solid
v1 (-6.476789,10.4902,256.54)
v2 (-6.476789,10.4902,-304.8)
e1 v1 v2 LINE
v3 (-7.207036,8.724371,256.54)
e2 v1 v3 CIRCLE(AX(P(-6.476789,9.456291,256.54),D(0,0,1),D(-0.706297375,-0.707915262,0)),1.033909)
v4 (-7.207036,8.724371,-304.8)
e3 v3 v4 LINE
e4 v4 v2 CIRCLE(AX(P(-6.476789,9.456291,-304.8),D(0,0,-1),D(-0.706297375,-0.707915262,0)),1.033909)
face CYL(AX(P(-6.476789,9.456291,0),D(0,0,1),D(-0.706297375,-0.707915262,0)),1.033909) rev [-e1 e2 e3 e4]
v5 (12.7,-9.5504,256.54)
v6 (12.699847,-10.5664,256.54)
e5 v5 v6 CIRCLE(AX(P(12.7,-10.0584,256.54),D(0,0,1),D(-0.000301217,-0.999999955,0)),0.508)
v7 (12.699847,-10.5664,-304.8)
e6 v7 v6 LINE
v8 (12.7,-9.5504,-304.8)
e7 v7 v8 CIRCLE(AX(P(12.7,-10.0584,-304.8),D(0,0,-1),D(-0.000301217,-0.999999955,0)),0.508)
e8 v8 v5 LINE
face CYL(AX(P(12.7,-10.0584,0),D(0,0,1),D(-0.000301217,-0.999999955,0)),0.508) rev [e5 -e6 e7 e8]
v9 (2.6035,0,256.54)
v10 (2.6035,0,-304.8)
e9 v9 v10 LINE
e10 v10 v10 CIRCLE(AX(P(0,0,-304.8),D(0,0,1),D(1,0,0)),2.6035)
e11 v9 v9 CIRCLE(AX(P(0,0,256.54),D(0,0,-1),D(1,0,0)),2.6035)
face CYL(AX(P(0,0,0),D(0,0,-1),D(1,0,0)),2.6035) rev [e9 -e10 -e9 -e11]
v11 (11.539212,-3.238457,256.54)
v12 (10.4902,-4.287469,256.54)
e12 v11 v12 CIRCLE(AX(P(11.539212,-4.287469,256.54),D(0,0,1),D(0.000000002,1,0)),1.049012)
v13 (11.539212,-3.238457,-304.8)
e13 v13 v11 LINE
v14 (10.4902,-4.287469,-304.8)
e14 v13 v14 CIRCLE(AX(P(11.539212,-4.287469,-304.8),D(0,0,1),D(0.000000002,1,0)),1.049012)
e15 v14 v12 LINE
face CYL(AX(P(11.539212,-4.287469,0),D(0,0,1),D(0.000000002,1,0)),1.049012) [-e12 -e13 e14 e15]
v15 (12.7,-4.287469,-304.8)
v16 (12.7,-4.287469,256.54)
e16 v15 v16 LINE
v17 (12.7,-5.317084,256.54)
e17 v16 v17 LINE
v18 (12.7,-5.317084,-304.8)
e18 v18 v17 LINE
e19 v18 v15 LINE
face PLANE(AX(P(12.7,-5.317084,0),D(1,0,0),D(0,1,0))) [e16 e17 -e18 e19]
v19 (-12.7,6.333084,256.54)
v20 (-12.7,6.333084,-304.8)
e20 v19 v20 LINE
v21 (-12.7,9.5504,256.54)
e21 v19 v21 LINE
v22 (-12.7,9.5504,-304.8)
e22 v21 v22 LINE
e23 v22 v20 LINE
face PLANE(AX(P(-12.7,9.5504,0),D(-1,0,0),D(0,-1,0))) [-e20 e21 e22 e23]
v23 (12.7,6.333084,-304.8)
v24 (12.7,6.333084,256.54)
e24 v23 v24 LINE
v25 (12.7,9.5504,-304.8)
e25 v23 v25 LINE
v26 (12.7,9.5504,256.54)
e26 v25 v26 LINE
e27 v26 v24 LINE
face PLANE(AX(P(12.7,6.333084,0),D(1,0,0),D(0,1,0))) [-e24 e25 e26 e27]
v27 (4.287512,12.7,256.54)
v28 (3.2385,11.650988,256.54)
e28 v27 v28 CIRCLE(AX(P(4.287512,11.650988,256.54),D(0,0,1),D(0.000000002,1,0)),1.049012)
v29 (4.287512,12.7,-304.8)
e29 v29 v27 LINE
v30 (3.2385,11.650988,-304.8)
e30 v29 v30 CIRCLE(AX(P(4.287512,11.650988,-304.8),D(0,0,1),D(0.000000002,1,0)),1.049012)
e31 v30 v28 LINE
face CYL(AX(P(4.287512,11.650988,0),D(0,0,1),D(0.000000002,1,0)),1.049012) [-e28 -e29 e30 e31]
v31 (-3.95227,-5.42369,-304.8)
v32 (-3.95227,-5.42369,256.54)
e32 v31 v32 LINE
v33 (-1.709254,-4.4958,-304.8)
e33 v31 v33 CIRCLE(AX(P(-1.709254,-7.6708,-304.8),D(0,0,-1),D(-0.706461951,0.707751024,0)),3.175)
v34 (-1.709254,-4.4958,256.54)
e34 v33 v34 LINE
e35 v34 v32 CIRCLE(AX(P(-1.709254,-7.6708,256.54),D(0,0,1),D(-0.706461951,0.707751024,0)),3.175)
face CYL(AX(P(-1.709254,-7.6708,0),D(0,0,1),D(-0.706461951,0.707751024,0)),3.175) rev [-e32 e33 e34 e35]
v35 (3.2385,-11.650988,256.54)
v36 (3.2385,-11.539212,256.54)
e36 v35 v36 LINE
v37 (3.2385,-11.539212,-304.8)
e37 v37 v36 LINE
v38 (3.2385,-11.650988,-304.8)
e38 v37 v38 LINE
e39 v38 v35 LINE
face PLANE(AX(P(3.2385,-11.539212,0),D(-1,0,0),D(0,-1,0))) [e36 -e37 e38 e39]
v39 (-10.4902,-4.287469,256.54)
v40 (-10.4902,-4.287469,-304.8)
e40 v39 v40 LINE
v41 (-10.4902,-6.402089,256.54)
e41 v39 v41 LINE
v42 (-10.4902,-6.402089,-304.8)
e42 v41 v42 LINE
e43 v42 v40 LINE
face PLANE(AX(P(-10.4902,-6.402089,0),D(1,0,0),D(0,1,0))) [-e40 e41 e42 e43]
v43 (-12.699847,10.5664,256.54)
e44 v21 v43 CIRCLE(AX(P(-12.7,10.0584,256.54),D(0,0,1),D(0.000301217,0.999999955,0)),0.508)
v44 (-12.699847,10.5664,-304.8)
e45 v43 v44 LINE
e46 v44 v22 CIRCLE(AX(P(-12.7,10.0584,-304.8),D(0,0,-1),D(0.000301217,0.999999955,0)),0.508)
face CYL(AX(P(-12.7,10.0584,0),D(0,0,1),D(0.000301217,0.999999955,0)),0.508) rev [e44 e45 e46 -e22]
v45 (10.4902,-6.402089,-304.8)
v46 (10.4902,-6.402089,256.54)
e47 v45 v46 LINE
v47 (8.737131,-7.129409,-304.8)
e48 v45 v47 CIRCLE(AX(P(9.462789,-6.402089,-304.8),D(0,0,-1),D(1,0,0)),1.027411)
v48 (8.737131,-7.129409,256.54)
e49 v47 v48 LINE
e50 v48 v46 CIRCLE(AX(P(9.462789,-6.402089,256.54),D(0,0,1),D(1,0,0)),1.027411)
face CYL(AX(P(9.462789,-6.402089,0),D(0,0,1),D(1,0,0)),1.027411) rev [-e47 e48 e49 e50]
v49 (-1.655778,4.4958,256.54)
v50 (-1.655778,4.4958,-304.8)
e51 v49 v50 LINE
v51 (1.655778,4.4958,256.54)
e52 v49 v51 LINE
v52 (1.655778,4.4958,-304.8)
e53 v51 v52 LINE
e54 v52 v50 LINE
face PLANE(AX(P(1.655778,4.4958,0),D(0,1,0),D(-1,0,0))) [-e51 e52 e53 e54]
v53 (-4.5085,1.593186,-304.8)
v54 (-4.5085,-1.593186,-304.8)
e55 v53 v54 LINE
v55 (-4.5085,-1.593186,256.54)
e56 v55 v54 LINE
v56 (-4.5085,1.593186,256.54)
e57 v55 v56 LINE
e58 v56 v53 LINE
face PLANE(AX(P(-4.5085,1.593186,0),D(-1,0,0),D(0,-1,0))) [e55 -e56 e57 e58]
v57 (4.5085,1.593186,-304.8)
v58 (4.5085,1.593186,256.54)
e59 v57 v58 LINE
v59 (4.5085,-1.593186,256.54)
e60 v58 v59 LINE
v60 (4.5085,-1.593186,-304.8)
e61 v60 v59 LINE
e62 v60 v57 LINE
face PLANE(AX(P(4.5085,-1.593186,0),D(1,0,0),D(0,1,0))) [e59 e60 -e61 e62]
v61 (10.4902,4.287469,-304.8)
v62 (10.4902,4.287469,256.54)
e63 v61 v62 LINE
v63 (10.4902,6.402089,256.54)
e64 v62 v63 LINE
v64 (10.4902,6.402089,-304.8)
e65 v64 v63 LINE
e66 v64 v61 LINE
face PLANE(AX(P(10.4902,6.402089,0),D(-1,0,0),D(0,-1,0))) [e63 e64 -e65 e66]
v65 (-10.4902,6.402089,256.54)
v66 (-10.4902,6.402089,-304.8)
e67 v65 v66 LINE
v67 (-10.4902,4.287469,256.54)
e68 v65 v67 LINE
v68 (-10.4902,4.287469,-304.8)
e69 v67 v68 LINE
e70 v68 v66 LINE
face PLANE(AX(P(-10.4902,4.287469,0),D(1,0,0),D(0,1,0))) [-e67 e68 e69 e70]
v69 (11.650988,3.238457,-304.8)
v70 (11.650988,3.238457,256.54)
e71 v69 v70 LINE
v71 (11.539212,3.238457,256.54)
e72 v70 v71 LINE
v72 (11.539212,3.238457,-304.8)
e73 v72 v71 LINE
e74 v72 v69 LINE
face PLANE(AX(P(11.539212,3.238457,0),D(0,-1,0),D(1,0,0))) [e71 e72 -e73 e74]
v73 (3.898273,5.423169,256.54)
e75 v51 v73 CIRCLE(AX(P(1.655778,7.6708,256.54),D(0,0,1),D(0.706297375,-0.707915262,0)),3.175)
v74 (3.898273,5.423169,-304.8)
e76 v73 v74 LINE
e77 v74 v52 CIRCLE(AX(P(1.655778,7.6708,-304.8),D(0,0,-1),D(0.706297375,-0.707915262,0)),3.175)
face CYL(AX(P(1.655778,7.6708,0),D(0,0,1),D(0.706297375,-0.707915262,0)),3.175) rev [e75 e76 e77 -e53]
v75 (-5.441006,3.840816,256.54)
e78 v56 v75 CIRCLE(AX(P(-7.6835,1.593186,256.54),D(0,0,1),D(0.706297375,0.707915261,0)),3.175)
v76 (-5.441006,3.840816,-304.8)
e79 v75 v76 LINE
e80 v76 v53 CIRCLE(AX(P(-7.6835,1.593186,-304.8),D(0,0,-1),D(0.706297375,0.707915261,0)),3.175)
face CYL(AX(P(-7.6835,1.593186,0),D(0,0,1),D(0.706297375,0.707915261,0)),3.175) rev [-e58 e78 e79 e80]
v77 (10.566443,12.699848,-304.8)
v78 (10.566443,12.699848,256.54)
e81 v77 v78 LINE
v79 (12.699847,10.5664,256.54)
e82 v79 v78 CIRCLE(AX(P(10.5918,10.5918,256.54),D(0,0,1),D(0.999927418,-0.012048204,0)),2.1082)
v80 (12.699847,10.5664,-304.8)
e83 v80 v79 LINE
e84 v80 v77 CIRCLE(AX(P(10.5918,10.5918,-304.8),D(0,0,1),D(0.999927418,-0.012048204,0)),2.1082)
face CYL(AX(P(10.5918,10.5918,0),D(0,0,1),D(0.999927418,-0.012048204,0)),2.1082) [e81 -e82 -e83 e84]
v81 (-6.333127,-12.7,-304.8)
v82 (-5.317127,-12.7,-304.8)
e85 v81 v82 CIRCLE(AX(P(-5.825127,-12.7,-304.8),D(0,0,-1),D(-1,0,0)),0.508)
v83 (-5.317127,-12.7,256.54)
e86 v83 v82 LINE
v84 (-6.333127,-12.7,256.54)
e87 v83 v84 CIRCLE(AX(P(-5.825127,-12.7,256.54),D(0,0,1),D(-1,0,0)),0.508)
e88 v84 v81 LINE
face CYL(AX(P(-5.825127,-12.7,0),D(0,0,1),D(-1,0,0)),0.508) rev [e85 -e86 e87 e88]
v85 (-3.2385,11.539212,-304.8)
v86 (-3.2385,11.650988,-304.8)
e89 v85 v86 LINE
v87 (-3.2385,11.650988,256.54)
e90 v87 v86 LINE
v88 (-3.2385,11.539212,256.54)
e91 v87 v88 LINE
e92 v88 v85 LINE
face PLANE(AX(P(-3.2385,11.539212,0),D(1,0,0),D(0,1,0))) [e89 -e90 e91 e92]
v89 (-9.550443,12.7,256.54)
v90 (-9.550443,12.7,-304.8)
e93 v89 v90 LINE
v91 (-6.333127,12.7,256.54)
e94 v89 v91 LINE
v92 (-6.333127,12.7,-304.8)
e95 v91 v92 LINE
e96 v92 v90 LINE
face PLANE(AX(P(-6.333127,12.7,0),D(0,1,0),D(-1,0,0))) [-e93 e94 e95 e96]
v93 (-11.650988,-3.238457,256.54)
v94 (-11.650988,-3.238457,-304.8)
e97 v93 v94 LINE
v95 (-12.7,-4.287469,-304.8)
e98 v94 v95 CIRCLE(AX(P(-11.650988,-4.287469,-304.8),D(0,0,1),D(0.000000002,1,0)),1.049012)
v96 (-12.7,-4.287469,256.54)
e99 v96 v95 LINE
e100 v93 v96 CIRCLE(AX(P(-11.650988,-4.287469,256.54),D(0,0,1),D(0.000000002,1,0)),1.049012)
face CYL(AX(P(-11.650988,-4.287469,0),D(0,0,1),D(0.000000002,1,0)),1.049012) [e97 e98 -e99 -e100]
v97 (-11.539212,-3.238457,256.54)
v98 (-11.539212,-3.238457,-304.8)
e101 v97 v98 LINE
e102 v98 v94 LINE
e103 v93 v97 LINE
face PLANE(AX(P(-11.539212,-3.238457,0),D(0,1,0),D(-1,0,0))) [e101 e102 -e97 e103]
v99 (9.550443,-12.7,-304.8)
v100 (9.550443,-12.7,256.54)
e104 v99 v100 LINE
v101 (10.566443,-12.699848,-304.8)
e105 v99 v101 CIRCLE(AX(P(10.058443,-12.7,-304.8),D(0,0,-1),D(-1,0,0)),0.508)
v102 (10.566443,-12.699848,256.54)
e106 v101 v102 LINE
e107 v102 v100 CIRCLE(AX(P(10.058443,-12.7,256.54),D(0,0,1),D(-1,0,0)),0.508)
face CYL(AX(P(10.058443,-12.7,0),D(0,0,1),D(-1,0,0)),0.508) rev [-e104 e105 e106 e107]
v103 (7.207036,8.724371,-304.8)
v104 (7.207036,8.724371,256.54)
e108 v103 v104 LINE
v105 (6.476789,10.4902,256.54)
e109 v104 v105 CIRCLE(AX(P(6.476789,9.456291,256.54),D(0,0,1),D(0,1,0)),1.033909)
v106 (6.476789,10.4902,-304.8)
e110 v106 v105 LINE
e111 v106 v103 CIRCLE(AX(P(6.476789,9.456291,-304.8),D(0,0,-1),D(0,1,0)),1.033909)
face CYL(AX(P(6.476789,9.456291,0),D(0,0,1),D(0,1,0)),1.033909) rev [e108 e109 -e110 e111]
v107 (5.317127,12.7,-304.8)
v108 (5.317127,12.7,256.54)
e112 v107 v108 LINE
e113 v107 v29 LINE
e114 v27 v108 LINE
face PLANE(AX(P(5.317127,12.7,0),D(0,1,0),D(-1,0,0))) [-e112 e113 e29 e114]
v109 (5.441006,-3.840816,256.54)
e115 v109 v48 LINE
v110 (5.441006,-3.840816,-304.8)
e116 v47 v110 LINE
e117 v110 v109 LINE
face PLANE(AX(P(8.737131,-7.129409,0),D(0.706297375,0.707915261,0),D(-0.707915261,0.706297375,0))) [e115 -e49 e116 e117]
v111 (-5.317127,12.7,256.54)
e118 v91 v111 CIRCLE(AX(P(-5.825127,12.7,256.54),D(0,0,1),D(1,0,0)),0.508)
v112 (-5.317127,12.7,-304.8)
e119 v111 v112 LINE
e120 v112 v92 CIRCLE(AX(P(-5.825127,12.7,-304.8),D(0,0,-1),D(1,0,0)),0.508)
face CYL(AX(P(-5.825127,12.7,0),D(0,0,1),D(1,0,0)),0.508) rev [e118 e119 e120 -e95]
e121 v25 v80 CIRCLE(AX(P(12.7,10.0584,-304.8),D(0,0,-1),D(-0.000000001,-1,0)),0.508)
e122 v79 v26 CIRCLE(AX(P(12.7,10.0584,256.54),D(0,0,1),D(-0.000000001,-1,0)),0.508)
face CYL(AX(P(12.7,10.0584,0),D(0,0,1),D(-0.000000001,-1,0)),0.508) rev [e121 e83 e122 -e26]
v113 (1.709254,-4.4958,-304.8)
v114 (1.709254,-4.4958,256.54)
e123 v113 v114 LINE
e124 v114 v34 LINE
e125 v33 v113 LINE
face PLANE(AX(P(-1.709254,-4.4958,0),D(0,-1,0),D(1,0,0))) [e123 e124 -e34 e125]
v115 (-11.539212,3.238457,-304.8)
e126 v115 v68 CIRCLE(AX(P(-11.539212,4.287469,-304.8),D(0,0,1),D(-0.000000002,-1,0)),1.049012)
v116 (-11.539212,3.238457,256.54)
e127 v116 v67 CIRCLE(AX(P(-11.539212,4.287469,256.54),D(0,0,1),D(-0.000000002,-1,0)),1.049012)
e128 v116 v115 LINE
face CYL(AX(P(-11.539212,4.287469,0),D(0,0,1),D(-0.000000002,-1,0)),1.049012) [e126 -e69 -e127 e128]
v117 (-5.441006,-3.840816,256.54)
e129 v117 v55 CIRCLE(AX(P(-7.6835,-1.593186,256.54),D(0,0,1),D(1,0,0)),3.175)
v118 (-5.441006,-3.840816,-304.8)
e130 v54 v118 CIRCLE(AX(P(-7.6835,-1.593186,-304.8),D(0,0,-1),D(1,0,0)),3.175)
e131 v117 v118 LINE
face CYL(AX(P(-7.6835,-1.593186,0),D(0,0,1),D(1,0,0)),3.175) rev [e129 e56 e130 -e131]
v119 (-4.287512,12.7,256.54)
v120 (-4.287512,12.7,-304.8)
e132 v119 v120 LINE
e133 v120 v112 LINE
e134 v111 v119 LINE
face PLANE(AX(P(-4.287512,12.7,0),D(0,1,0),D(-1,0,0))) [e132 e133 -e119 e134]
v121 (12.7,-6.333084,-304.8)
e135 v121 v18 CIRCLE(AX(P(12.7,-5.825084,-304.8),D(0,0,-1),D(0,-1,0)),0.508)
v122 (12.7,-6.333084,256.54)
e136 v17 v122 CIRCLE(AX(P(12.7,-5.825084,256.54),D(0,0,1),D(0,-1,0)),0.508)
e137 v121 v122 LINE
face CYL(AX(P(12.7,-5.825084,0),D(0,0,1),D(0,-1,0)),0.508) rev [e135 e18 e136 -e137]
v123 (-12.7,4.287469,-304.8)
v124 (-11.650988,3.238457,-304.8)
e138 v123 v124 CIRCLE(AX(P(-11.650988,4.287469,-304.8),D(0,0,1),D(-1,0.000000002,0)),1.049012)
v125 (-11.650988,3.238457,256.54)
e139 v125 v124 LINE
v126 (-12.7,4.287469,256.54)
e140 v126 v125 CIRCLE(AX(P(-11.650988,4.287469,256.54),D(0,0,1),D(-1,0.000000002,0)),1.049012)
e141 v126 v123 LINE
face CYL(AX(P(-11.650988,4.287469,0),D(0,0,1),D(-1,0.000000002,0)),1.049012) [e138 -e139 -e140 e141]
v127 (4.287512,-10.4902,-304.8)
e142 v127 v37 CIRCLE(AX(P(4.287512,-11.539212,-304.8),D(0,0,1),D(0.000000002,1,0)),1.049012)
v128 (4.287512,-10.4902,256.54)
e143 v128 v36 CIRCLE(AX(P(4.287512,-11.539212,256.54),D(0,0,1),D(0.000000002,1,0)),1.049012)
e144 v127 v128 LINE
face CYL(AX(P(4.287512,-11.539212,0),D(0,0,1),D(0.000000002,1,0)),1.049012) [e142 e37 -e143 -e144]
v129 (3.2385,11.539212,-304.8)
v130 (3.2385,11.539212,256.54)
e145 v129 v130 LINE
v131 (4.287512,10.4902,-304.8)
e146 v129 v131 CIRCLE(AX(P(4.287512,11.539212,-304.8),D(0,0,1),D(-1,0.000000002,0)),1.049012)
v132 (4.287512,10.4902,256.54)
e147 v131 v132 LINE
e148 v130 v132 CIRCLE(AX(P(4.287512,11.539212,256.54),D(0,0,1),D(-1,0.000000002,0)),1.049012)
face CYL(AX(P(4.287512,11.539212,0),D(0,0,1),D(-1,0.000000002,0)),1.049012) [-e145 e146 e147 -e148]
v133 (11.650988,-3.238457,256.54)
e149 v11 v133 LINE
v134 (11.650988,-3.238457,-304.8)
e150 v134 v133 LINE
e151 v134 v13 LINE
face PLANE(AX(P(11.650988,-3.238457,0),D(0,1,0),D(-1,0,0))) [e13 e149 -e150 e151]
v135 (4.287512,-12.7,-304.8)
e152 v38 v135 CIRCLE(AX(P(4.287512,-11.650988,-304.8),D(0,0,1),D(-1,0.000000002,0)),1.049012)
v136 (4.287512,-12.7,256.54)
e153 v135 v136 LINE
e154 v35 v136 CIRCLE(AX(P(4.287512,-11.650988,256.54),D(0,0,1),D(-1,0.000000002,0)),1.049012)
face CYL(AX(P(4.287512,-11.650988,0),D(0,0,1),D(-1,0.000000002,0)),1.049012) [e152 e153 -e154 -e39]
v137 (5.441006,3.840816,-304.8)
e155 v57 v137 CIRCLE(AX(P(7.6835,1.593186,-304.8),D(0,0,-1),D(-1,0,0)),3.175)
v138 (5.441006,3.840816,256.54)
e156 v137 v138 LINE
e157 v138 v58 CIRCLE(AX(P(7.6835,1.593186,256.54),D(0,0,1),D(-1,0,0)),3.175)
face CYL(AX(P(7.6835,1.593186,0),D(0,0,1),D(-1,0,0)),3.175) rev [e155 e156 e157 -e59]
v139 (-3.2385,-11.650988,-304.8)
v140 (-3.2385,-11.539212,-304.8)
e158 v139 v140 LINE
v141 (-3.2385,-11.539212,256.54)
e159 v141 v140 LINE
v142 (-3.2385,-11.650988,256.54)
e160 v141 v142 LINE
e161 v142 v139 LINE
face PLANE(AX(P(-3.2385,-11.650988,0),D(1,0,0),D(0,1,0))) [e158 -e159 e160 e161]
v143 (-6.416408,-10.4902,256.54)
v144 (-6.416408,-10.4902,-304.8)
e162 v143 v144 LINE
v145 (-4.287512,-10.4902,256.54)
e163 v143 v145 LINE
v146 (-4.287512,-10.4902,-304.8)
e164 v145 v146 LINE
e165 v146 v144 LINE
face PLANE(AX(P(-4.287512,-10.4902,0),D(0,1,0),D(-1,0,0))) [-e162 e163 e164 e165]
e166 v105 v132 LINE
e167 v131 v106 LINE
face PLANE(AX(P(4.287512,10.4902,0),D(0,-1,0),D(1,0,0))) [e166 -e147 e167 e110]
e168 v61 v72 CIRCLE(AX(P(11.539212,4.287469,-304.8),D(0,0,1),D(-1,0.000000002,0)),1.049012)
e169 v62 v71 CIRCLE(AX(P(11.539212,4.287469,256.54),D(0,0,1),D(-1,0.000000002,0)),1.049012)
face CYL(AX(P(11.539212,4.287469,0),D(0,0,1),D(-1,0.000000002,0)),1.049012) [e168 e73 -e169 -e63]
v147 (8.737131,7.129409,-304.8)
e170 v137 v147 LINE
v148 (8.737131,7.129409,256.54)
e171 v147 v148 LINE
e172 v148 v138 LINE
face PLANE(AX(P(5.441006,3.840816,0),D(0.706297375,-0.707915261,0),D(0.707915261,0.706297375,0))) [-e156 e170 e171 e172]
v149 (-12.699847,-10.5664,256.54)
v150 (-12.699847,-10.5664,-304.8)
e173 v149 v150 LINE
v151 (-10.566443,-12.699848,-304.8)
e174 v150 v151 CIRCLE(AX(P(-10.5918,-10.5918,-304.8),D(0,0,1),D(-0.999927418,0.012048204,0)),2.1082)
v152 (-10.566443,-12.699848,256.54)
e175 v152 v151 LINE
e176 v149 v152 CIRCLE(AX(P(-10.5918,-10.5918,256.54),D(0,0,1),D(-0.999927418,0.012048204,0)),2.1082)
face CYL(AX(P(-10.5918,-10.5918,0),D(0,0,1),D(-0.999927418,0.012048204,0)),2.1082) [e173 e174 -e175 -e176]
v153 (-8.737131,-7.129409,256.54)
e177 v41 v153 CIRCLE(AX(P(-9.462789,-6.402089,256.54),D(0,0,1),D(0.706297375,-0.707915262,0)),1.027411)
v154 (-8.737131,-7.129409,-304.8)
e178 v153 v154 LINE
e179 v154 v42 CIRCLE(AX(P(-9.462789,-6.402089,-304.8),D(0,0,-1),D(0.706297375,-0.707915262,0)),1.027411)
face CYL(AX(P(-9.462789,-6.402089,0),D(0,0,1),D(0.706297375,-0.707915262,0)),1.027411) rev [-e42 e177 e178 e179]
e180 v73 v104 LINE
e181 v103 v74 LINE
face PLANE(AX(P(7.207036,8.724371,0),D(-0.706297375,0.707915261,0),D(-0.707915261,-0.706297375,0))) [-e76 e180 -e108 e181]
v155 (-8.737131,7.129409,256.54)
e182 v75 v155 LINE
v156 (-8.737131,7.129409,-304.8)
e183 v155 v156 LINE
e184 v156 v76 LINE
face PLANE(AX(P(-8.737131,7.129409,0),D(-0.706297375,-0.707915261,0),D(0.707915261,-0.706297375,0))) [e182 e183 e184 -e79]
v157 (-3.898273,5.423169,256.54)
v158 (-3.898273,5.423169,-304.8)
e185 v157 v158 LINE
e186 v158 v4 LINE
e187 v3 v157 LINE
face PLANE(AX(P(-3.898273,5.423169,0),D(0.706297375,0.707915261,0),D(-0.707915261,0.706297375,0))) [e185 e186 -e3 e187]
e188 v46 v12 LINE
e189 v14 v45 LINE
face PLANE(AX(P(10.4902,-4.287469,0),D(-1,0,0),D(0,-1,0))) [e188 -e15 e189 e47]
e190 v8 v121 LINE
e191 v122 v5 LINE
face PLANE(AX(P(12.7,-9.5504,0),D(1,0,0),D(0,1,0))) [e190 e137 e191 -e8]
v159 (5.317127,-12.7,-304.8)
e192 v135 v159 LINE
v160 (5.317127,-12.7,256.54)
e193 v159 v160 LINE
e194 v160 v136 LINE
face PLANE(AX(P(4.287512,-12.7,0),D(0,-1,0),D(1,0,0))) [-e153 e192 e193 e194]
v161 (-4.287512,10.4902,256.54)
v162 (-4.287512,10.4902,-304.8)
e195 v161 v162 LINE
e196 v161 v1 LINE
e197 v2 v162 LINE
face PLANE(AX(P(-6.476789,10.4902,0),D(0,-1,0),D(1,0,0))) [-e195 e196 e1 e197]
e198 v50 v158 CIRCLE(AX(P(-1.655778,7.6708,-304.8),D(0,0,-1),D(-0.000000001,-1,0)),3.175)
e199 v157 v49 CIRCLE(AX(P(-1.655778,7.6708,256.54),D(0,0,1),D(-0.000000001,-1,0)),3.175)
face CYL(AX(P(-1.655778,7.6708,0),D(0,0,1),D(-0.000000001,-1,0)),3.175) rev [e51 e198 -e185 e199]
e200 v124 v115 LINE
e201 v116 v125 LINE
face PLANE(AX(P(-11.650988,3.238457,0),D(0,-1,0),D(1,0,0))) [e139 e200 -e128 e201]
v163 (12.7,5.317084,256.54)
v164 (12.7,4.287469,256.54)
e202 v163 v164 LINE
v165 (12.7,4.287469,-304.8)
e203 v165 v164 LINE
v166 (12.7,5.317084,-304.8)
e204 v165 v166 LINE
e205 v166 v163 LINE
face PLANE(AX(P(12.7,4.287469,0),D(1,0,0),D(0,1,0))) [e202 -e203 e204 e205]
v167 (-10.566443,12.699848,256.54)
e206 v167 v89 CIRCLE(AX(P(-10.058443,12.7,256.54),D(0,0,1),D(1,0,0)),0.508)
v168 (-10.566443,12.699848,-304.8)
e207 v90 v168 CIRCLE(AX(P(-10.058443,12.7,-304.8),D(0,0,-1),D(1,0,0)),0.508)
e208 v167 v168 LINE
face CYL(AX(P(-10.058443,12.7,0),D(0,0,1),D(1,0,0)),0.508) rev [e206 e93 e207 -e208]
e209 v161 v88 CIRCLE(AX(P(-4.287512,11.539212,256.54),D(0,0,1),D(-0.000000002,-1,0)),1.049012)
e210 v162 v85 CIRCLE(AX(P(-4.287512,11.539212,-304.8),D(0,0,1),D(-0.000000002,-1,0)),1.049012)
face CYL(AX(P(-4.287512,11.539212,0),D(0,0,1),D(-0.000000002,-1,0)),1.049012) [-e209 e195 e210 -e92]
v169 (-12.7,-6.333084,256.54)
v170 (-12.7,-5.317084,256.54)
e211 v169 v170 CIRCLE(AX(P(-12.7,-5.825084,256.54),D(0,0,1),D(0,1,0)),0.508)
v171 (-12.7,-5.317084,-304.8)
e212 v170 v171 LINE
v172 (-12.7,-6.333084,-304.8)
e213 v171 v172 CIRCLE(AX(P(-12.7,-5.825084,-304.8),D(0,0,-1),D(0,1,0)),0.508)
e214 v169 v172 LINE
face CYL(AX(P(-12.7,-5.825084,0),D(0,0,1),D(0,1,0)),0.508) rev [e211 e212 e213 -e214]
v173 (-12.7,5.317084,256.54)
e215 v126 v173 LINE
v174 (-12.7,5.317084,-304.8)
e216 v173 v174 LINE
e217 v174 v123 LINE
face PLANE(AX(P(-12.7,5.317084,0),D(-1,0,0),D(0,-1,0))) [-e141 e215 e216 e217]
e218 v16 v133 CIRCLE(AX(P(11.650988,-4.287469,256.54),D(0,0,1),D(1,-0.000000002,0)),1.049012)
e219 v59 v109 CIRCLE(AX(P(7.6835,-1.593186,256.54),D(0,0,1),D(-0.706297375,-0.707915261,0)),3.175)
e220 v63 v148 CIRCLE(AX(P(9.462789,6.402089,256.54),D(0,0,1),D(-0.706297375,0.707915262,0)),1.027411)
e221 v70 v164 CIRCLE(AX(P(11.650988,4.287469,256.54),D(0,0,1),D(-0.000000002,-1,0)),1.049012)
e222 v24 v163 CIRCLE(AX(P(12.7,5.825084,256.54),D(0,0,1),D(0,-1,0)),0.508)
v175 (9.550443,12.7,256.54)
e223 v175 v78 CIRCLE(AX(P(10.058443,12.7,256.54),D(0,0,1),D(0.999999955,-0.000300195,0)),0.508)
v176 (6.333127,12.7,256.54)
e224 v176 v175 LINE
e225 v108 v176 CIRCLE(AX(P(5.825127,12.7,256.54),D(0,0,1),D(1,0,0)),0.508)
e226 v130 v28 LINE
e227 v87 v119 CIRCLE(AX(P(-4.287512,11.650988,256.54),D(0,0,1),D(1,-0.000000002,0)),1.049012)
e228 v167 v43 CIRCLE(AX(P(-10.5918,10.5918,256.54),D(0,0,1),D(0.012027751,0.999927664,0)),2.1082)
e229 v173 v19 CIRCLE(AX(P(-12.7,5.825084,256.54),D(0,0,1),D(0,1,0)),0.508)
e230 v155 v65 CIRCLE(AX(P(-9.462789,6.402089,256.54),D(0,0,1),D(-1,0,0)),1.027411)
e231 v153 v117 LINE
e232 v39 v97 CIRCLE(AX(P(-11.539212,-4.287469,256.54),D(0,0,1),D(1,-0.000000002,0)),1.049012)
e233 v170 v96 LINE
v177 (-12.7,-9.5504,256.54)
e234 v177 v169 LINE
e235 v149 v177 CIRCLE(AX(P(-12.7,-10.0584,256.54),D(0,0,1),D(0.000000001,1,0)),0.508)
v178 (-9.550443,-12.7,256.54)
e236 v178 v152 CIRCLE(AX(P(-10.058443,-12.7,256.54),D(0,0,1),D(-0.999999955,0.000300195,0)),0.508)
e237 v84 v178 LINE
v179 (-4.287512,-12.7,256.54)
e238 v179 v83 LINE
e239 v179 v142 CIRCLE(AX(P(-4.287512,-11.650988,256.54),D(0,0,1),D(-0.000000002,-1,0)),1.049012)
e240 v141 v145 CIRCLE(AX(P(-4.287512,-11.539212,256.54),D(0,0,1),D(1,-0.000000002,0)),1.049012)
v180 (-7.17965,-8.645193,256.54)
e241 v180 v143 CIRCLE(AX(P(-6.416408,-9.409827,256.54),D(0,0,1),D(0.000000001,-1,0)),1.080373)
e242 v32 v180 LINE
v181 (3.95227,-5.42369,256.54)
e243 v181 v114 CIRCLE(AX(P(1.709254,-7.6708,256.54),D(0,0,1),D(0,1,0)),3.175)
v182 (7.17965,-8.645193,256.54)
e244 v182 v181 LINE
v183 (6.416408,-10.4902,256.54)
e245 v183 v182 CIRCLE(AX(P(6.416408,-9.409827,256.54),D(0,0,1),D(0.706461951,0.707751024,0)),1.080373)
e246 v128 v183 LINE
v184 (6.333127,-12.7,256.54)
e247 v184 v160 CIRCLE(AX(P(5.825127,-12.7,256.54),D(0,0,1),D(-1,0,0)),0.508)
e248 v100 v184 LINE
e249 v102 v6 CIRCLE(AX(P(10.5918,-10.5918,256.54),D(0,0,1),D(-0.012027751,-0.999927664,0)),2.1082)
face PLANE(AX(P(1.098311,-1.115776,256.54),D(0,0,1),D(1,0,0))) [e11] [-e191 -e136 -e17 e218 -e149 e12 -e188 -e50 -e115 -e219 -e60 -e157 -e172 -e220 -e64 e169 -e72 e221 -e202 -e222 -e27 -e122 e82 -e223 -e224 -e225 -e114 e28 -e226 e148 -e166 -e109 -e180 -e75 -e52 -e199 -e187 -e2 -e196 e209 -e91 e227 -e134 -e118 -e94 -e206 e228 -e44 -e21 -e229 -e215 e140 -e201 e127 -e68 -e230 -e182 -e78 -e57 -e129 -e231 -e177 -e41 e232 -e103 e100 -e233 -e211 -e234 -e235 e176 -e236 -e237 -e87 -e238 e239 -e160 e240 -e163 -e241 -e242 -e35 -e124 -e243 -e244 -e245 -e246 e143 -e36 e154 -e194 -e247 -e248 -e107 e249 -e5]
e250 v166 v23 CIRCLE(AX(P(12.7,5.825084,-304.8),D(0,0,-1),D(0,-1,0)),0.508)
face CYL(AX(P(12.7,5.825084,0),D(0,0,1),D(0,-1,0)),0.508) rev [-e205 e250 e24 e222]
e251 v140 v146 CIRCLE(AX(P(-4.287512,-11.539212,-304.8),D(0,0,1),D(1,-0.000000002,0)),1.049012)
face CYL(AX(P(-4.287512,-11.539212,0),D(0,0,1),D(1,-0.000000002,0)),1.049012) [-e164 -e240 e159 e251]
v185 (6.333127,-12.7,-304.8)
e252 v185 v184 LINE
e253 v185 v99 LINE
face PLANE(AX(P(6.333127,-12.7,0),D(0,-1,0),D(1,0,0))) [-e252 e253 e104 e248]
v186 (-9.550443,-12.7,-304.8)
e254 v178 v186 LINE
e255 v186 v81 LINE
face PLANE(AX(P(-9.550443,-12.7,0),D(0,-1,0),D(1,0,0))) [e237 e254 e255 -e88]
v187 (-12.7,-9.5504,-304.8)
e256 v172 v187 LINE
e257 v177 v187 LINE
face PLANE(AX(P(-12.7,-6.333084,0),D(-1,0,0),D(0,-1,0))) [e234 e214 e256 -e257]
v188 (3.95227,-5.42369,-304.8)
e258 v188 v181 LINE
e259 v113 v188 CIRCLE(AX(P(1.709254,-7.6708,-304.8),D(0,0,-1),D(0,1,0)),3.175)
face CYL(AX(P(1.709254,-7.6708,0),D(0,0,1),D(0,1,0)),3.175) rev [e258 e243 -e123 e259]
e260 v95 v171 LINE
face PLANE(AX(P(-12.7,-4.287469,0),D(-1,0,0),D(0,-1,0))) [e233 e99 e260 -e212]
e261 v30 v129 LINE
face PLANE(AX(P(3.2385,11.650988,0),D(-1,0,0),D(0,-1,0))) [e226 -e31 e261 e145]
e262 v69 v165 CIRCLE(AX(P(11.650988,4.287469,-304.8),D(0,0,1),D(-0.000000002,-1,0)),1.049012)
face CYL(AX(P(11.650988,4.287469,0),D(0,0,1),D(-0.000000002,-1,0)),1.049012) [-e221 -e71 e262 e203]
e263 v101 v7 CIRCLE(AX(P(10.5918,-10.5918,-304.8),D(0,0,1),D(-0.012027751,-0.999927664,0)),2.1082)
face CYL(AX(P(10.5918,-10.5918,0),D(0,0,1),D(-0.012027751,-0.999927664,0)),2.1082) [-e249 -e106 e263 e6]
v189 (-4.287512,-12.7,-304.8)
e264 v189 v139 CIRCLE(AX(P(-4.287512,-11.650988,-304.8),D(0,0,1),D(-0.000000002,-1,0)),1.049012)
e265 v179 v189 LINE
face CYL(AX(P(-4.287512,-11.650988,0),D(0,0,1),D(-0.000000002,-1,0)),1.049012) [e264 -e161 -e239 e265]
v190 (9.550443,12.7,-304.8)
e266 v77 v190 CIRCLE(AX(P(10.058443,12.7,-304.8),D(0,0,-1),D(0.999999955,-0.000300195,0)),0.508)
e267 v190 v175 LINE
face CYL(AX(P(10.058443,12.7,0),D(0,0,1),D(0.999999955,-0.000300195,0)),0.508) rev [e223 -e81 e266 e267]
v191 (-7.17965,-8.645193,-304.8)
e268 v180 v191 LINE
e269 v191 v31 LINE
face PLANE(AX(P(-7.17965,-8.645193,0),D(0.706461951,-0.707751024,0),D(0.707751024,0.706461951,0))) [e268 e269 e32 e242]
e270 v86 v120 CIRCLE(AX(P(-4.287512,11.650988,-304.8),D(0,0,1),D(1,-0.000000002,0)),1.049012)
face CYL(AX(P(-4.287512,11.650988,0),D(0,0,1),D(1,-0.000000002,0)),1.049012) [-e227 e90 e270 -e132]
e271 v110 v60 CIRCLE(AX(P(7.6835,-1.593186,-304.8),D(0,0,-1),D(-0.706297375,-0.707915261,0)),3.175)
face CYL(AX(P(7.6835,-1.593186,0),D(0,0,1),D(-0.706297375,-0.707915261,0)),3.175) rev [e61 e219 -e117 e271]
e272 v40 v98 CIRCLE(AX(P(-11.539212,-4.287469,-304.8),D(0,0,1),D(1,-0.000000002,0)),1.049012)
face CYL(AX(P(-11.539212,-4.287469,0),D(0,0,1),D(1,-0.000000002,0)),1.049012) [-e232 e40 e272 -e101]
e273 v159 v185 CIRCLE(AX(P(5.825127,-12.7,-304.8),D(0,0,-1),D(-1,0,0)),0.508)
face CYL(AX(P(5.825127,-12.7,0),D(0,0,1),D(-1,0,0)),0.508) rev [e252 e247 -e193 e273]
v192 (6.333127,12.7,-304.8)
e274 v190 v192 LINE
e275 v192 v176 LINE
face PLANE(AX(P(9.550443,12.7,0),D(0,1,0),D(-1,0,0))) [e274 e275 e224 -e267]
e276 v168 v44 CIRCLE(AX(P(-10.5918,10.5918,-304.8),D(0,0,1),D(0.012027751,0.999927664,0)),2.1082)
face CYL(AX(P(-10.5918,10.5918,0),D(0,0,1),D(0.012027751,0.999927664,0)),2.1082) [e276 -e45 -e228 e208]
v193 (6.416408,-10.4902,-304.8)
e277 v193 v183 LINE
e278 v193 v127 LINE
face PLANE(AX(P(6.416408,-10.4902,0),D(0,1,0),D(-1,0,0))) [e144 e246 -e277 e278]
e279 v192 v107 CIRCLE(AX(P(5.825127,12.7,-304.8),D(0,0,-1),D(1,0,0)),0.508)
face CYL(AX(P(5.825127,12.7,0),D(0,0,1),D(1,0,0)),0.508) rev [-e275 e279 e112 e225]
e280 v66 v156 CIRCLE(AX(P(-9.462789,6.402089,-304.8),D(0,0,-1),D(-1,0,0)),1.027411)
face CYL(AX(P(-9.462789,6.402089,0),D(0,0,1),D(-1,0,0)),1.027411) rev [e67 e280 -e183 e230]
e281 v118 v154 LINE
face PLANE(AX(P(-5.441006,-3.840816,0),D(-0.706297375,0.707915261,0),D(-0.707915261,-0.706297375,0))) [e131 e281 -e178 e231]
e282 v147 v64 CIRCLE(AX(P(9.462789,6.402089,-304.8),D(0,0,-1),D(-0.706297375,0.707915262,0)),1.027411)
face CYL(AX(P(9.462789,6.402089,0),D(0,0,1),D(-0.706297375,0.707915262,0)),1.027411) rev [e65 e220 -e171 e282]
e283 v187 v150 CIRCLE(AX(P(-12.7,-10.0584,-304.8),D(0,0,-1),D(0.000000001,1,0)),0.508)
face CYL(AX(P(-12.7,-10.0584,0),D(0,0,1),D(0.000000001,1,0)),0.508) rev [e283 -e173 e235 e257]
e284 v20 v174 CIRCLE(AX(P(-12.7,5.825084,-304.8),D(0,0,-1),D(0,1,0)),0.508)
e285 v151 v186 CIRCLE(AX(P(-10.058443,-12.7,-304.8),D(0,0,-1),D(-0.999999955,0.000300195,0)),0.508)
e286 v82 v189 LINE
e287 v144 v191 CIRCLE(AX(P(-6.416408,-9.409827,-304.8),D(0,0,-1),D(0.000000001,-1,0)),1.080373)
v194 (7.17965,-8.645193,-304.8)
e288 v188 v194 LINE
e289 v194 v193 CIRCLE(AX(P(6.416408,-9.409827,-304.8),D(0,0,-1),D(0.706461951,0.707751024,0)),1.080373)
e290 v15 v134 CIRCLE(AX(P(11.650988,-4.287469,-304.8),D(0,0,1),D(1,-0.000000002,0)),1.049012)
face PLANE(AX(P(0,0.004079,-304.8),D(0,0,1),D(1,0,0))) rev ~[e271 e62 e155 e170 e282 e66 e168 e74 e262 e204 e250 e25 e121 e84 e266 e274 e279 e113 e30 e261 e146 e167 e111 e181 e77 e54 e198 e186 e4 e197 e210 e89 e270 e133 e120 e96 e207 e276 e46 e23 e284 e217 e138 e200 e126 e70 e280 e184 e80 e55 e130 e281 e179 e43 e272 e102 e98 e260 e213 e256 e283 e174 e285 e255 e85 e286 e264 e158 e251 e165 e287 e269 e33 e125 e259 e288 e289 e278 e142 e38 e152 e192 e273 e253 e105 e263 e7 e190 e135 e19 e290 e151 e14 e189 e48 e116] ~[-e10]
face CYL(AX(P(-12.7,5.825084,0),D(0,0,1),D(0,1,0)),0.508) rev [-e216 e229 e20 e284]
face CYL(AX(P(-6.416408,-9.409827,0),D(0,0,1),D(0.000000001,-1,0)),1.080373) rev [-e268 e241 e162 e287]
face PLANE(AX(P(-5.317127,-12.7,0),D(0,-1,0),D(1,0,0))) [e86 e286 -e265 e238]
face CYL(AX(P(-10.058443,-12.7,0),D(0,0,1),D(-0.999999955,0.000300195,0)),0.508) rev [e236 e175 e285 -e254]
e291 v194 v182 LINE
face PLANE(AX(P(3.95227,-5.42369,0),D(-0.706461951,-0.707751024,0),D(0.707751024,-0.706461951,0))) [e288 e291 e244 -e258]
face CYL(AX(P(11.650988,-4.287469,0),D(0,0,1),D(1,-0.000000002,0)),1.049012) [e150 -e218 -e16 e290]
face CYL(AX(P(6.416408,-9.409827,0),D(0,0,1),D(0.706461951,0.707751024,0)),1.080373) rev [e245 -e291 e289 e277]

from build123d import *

# Parameters (mm, degrees)
SKETCH1_R           = 2.6035
BOSS_EXTRUDE1_DEPTH = 304.8
SKETCH2_W           = 33.638821573
SKETCH2_H           = 37.212624088
CUT_EXTRUDE1_DEPTH  = 48.26


with BuildPart() as part:
    # Sketch1 → Boss-Extrude1 (new body, symmetric)
    with BuildSketch(Plane.XY):
        with BuildLine():
            Line((-7.179650497, -8.645192506), (-3.952270251, -5.423690499))
            ThreePointArc((-3.952270251, -5.423690499), (-2.922936451, -4.736929036), (-1.709253557, -4.4958))
            Line((-1.709253557, -4.4958), (1.709253557, -4.4958))
            ThreePointArc((1.709253557, -4.4958), (2.922936451, -4.736929036), (3.952270251, -5.423690499))
            Line((3.952270251, -5.423690499), (7.179650497, -8.645192506))
            ThreePointArc((7.179650497, -8.645192506), (7.41473083, -9.822813117), (6.416408329, -10.4902))
            Line((6.416408329, -10.4902), (4.287512407, -10.4902))
            ThreePointArc((4.287512407, -10.4902), (3.54574862, -10.79744862), (3.2385, -11.539212407))
            Line((3.2385, -11.539212407), (3.2385, -11.650987593))
            ThreePointArc((3.2385, -11.650987593), (3.54574862, -12.39275138), (4.287512407, -12.7))
            Line((4.287512407, -12.7), (5.317126718, -12.7))
            ThreePointArc((5.317126718, -12.7), (5.825126718, -12.192), (6.333126718, -12.7))
            Line((6.333126718, -12.7), (9.550443118, -12.7))
            ThreePointArc((9.550443118, -12.7), (10.058366869, -12.192000006), (10.566443095, -12.699847501))
            ThreePointArc((10.566443095, -12.699847501), (12.082537762, -12.08250727), (12.699846982, -10.566399977))
            ThreePointArc((12.699846982, -10.566399977), (12.192000006, -10.058323491), (12.7, -9.5504))
            Line((12.7, -9.5504), (12.7, -6.3330836))
            ThreePointArc((12.7, -6.3330836), (12.192, -5.8250836), (12.7, -5.3170836))
            Line((12.7, -5.3170836), (12.7, -4.287469289))
            ThreePointArc((12.7, -4.287469289), (12.39275138, -3.545705502), (11.650987593, -3.238456882))
            Line((11.650987593, -3.238456882), (11.539212407, -3.238456882))
            ThreePointArc((11.539212407, -3.238456882), (10.79744862, -3.545705502), (10.4902, -4.287469289))
            Line((10.4902, -4.287469289), (10.4902, -6.402089023))
            ThreePointArc((10.4902, -6.402089023), (9.856505071, -7.351067942), (8.737131347, -7.129408934))
            Line((8.737131347, -7.129408934), (5.441005833, -3.840816462))
            ThreePointArc((5.441005833, -3.840816462), (4.750877967, -2.809883091), (4.5085, -1.593185507))
            Line((4.5085, -1.593185507), (4.5085, 1.593185507))
            ThreePointArc((4.5085, 1.593185507), (4.750877967, 2.809883091), (5.441005833, 3.840816462))
            Line((5.441005833, 3.840816462), (8.737131347, 7.129408934))
            ThreePointArc((8.737131347, 7.129408934), (9.856505071, 7.351067942), (10.4902, 6.402089023))
            Line((10.4902, 6.402089023), (10.4902, 4.287469289))
            ThreePointArc((10.4902, 4.287469289), (10.79744862, 3.545705502), (11.539212407, 3.238456882))
            Line((11.539212407, 3.238456882), (11.650987593, 3.238456882))
            ThreePointArc((11.650987593, 3.238456882), (12.39275138, 3.545705502), (12.7, 4.287469289))
            Line((12.7, 4.287469289), (12.7, 5.3170836))
            ThreePointArc((12.7, 5.3170836), (12.192, 5.8250836), (12.7, 6.3330836))
            Line((12.7, 6.3330836), (12.7, 9.5504))
            ThreePointArc((12.7, 9.5504), (12.192000006, 10.058323491), (12.699846982, 10.566399977))
            ThreePointArc((12.699846982, 10.566399977), (12.082537762, 12.08250727), (10.566443095, 12.699847501))
            ThreePointArc((10.566443095, 12.699847501), (10.058366869, 12.192000006), (9.550443118, 12.7))
            Line((9.550443118, 12.7), (6.333126718, 12.7))
            ThreePointArc((6.333126718, 12.7), (5.825126718, 12.192), (5.317126718, 12.7))
            Line((5.317126718, 12.7), (4.287512407, 12.7))
            ThreePointArc((4.287512407, 12.7), (3.54574862, 12.39275138), (3.2385, 11.650987593))
            Line((3.2385, 11.650987593), (3.2385, 11.539212407))
            ThreePointArc((3.2385, 11.539212407), (3.54574862, 10.79744862), (4.287512407, 10.4902))
            Line((4.287512407, 10.4902), (6.476788598, 10.4902))
            ThreePointArc((6.476788598, 10.4902), (7.432222385, 9.85140422), (7.207036008, 8.724370562))
            Line((7.207036008, 8.724370562), (3.898272566, 5.423169045))
            ThreePointArc((3.898272566, 5.423169045), (2.869120213, 4.736787962), (1.655778399, 4.4958))
            Line((1.655778399, 4.4958), (-1.655778399, 4.4958))
            ThreePointArc((-1.655778399, 4.4958), (-2.869120213, 4.736787962), (-3.898272566, 5.423169045))
            Line((-3.898272566, 5.423169045), (-7.207036008, 8.724370562))
            ThreePointArc((-7.207036008, 8.724370562), (-7.432222385, 9.85140422), (-6.476788598, 10.4902))
            Line((-6.476788598, 10.4902), (-4.287512407, 10.4902))
            ThreePointArc((-4.287512407, 10.4902), (-3.54574862, 10.79744862), (-3.2385, 11.539212407))
            Line((-3.2385, 11.539212407), (-3.2385, 11.650987593))
            ThreePointArc((-3.2385, 11.650987593), (-3.54574862, 12.39275138), (-4.287512407, 12.7))
            Line((-4.287512407, 12.7), (-5.317126718, 12.7))
            ThreePointArc((-5.317126718, 12.7), (-5.825126718, 12.192), (-6.333126718, 12.7))
            Line((-6.333126718, 12.7), (-9.550443118, 12.7))
            ThreePointArc((-9.550443118, 12.7), (-10.058366869, 12.192000006), (-10.566443095, 12.699847501))
            ThreePointArc((-10.566443095, 12.699847501), (-12.082537762, 12.08250727), (-12.699846982, 10.566399977))
            ThreePointArc((-12.699846982, 10.566399977), (-12.192000006, 10.058323491), (-12.7, 9.5504))
            Line((-12.7, 9.5504), (-12.7, 6.3330836))
            ThreePointArc((-12.7, 6.3330836), (-12.192, 5.8250836), (-12.7, 5.3170836))
            Line((-12.7, 5.3170836), (-12.7, 4.287469289))
            ThreePointArc((-12.7, 4.287469289), (-12.39275138, 3.545705502), (-11.650987593, 3.238456882))
            Line((-11.650987593, 3.238456882), (-11.539212407, 3.238456882))
            ThreePointArc((-11.539212407, 3.238456882), (-10.79744862, 3.545705502), (-10.4902, 4.287469289))
            Line((-10.4902, 4.287469289), (-10.4902, 6.402089023))
            ThreePointArc((-10.4902, 6.402089023), (-9.856505071, 7.351067942), (-8.737131347, 7.129408934))
            Line((-8.737131347, 7.129408934), (-5.441005833, 3.840816462))
            ThreePointArc((-5.441005833, 3.840816462), (-4.750877967, 2.809883091), (-4.5085, 1.593185507))
            Line((-4.5085, 1.593185507), (-4.5085, -1.593185507))
            ThreePointArc((-4.5085, -1.593185507), (-4.750877967, -2.809883091), (-5.441005833, -3.840816462))
            Line((-5.441005833, -3.840816462), (-8.737131347, -7.129408934))
            ThreePointArc((-8.737131347, -7.129408934), (-9.856505071, -7.351067942), (-10.4902, -6.402089023))
            Line((-10.4902, -6.402089023), (-10.4902, -4.287469289))
            ThreePointArc((-10.4902, -4.287469289), (-10.79744862, -3.545705502), (-11.539212407, -3.238456882))
            Line((-11.539212407, -3.238456882), (-11.650987593, -3.238456882))
            ThreePointArc((-11.650987593, -3.238456882), (-12.39275138, -3.545705502), (-12.7, -4.287469289))
            Line((-12.7, -4.287469289), (-12.7, -5.3170836))
            ThreePointArc((-12.7, -5.3170836), (-12.192, -5.8250836), (-12.7, -6.3330836))
            Line((-12.7, -6.3330836), (-12.7, -9.5504))
            ThreePointArc((-12.7, -9.5504), (-12.192000006, -10.058323491), (-12.699846982, -10.566399977))
            ThreePointArc((-12.699846982, -10.566399977), (-12.082537762, -12.08250727), (-10.566443095, -12.699847501))
            ThreePointArc((-10.566443095, -12.699847501), (-10.058366869, -12.192000006), (-9.550443118, -12.7))
            Line((-9.550443118, -12.7), (-6.333126718, -12.7))
            ThreePointArc((-6.333126718, -12.7), (-5.825126718, -12.192), (-5.317126718, -12.7))
            Line((-5.317126718, -12.7), (-4.287512407, -12.7))
            ThreePointArc((-4.287512407, -12.7), (-3.54574862, -12.39275138), (-3.2385, -11.650987593))
            Line((-3.2385, -11.650987593), (-3.2385, -11.539212407))
            ThreePointArc((-3.2385, -11.539212407), (-3.54574862, -10.79744862), (-4.287512407, -10.4902))
            Line((-4.287512407, -10.4902), (-6.416408329, -10.4902))
            ThreePointArc((-6.416408329, -10.4902), (-7.41473083, -9.822813117), (-7.179650497, -8.645192506))
        make_face()
        Circle(SKETCH1_R, mode=Mode.SUBTRACT)
    extrude(amount=BOSS_EXTRUDE1_DEPTH, both=True)

    # Sketch2 → Cut-Extrude1 (cut)
    with BuildSketch(Plane.XY.offset(304.8)):
        with Locations((1.09831089, -1.115775642)):
            Rectangle(SKETCH2_W, SKETCH2_H)
    extrude(amount=-CUT_EXTRUDE1_DEPTH, mode=Mode.SUBTRACT)


solid = part.part
